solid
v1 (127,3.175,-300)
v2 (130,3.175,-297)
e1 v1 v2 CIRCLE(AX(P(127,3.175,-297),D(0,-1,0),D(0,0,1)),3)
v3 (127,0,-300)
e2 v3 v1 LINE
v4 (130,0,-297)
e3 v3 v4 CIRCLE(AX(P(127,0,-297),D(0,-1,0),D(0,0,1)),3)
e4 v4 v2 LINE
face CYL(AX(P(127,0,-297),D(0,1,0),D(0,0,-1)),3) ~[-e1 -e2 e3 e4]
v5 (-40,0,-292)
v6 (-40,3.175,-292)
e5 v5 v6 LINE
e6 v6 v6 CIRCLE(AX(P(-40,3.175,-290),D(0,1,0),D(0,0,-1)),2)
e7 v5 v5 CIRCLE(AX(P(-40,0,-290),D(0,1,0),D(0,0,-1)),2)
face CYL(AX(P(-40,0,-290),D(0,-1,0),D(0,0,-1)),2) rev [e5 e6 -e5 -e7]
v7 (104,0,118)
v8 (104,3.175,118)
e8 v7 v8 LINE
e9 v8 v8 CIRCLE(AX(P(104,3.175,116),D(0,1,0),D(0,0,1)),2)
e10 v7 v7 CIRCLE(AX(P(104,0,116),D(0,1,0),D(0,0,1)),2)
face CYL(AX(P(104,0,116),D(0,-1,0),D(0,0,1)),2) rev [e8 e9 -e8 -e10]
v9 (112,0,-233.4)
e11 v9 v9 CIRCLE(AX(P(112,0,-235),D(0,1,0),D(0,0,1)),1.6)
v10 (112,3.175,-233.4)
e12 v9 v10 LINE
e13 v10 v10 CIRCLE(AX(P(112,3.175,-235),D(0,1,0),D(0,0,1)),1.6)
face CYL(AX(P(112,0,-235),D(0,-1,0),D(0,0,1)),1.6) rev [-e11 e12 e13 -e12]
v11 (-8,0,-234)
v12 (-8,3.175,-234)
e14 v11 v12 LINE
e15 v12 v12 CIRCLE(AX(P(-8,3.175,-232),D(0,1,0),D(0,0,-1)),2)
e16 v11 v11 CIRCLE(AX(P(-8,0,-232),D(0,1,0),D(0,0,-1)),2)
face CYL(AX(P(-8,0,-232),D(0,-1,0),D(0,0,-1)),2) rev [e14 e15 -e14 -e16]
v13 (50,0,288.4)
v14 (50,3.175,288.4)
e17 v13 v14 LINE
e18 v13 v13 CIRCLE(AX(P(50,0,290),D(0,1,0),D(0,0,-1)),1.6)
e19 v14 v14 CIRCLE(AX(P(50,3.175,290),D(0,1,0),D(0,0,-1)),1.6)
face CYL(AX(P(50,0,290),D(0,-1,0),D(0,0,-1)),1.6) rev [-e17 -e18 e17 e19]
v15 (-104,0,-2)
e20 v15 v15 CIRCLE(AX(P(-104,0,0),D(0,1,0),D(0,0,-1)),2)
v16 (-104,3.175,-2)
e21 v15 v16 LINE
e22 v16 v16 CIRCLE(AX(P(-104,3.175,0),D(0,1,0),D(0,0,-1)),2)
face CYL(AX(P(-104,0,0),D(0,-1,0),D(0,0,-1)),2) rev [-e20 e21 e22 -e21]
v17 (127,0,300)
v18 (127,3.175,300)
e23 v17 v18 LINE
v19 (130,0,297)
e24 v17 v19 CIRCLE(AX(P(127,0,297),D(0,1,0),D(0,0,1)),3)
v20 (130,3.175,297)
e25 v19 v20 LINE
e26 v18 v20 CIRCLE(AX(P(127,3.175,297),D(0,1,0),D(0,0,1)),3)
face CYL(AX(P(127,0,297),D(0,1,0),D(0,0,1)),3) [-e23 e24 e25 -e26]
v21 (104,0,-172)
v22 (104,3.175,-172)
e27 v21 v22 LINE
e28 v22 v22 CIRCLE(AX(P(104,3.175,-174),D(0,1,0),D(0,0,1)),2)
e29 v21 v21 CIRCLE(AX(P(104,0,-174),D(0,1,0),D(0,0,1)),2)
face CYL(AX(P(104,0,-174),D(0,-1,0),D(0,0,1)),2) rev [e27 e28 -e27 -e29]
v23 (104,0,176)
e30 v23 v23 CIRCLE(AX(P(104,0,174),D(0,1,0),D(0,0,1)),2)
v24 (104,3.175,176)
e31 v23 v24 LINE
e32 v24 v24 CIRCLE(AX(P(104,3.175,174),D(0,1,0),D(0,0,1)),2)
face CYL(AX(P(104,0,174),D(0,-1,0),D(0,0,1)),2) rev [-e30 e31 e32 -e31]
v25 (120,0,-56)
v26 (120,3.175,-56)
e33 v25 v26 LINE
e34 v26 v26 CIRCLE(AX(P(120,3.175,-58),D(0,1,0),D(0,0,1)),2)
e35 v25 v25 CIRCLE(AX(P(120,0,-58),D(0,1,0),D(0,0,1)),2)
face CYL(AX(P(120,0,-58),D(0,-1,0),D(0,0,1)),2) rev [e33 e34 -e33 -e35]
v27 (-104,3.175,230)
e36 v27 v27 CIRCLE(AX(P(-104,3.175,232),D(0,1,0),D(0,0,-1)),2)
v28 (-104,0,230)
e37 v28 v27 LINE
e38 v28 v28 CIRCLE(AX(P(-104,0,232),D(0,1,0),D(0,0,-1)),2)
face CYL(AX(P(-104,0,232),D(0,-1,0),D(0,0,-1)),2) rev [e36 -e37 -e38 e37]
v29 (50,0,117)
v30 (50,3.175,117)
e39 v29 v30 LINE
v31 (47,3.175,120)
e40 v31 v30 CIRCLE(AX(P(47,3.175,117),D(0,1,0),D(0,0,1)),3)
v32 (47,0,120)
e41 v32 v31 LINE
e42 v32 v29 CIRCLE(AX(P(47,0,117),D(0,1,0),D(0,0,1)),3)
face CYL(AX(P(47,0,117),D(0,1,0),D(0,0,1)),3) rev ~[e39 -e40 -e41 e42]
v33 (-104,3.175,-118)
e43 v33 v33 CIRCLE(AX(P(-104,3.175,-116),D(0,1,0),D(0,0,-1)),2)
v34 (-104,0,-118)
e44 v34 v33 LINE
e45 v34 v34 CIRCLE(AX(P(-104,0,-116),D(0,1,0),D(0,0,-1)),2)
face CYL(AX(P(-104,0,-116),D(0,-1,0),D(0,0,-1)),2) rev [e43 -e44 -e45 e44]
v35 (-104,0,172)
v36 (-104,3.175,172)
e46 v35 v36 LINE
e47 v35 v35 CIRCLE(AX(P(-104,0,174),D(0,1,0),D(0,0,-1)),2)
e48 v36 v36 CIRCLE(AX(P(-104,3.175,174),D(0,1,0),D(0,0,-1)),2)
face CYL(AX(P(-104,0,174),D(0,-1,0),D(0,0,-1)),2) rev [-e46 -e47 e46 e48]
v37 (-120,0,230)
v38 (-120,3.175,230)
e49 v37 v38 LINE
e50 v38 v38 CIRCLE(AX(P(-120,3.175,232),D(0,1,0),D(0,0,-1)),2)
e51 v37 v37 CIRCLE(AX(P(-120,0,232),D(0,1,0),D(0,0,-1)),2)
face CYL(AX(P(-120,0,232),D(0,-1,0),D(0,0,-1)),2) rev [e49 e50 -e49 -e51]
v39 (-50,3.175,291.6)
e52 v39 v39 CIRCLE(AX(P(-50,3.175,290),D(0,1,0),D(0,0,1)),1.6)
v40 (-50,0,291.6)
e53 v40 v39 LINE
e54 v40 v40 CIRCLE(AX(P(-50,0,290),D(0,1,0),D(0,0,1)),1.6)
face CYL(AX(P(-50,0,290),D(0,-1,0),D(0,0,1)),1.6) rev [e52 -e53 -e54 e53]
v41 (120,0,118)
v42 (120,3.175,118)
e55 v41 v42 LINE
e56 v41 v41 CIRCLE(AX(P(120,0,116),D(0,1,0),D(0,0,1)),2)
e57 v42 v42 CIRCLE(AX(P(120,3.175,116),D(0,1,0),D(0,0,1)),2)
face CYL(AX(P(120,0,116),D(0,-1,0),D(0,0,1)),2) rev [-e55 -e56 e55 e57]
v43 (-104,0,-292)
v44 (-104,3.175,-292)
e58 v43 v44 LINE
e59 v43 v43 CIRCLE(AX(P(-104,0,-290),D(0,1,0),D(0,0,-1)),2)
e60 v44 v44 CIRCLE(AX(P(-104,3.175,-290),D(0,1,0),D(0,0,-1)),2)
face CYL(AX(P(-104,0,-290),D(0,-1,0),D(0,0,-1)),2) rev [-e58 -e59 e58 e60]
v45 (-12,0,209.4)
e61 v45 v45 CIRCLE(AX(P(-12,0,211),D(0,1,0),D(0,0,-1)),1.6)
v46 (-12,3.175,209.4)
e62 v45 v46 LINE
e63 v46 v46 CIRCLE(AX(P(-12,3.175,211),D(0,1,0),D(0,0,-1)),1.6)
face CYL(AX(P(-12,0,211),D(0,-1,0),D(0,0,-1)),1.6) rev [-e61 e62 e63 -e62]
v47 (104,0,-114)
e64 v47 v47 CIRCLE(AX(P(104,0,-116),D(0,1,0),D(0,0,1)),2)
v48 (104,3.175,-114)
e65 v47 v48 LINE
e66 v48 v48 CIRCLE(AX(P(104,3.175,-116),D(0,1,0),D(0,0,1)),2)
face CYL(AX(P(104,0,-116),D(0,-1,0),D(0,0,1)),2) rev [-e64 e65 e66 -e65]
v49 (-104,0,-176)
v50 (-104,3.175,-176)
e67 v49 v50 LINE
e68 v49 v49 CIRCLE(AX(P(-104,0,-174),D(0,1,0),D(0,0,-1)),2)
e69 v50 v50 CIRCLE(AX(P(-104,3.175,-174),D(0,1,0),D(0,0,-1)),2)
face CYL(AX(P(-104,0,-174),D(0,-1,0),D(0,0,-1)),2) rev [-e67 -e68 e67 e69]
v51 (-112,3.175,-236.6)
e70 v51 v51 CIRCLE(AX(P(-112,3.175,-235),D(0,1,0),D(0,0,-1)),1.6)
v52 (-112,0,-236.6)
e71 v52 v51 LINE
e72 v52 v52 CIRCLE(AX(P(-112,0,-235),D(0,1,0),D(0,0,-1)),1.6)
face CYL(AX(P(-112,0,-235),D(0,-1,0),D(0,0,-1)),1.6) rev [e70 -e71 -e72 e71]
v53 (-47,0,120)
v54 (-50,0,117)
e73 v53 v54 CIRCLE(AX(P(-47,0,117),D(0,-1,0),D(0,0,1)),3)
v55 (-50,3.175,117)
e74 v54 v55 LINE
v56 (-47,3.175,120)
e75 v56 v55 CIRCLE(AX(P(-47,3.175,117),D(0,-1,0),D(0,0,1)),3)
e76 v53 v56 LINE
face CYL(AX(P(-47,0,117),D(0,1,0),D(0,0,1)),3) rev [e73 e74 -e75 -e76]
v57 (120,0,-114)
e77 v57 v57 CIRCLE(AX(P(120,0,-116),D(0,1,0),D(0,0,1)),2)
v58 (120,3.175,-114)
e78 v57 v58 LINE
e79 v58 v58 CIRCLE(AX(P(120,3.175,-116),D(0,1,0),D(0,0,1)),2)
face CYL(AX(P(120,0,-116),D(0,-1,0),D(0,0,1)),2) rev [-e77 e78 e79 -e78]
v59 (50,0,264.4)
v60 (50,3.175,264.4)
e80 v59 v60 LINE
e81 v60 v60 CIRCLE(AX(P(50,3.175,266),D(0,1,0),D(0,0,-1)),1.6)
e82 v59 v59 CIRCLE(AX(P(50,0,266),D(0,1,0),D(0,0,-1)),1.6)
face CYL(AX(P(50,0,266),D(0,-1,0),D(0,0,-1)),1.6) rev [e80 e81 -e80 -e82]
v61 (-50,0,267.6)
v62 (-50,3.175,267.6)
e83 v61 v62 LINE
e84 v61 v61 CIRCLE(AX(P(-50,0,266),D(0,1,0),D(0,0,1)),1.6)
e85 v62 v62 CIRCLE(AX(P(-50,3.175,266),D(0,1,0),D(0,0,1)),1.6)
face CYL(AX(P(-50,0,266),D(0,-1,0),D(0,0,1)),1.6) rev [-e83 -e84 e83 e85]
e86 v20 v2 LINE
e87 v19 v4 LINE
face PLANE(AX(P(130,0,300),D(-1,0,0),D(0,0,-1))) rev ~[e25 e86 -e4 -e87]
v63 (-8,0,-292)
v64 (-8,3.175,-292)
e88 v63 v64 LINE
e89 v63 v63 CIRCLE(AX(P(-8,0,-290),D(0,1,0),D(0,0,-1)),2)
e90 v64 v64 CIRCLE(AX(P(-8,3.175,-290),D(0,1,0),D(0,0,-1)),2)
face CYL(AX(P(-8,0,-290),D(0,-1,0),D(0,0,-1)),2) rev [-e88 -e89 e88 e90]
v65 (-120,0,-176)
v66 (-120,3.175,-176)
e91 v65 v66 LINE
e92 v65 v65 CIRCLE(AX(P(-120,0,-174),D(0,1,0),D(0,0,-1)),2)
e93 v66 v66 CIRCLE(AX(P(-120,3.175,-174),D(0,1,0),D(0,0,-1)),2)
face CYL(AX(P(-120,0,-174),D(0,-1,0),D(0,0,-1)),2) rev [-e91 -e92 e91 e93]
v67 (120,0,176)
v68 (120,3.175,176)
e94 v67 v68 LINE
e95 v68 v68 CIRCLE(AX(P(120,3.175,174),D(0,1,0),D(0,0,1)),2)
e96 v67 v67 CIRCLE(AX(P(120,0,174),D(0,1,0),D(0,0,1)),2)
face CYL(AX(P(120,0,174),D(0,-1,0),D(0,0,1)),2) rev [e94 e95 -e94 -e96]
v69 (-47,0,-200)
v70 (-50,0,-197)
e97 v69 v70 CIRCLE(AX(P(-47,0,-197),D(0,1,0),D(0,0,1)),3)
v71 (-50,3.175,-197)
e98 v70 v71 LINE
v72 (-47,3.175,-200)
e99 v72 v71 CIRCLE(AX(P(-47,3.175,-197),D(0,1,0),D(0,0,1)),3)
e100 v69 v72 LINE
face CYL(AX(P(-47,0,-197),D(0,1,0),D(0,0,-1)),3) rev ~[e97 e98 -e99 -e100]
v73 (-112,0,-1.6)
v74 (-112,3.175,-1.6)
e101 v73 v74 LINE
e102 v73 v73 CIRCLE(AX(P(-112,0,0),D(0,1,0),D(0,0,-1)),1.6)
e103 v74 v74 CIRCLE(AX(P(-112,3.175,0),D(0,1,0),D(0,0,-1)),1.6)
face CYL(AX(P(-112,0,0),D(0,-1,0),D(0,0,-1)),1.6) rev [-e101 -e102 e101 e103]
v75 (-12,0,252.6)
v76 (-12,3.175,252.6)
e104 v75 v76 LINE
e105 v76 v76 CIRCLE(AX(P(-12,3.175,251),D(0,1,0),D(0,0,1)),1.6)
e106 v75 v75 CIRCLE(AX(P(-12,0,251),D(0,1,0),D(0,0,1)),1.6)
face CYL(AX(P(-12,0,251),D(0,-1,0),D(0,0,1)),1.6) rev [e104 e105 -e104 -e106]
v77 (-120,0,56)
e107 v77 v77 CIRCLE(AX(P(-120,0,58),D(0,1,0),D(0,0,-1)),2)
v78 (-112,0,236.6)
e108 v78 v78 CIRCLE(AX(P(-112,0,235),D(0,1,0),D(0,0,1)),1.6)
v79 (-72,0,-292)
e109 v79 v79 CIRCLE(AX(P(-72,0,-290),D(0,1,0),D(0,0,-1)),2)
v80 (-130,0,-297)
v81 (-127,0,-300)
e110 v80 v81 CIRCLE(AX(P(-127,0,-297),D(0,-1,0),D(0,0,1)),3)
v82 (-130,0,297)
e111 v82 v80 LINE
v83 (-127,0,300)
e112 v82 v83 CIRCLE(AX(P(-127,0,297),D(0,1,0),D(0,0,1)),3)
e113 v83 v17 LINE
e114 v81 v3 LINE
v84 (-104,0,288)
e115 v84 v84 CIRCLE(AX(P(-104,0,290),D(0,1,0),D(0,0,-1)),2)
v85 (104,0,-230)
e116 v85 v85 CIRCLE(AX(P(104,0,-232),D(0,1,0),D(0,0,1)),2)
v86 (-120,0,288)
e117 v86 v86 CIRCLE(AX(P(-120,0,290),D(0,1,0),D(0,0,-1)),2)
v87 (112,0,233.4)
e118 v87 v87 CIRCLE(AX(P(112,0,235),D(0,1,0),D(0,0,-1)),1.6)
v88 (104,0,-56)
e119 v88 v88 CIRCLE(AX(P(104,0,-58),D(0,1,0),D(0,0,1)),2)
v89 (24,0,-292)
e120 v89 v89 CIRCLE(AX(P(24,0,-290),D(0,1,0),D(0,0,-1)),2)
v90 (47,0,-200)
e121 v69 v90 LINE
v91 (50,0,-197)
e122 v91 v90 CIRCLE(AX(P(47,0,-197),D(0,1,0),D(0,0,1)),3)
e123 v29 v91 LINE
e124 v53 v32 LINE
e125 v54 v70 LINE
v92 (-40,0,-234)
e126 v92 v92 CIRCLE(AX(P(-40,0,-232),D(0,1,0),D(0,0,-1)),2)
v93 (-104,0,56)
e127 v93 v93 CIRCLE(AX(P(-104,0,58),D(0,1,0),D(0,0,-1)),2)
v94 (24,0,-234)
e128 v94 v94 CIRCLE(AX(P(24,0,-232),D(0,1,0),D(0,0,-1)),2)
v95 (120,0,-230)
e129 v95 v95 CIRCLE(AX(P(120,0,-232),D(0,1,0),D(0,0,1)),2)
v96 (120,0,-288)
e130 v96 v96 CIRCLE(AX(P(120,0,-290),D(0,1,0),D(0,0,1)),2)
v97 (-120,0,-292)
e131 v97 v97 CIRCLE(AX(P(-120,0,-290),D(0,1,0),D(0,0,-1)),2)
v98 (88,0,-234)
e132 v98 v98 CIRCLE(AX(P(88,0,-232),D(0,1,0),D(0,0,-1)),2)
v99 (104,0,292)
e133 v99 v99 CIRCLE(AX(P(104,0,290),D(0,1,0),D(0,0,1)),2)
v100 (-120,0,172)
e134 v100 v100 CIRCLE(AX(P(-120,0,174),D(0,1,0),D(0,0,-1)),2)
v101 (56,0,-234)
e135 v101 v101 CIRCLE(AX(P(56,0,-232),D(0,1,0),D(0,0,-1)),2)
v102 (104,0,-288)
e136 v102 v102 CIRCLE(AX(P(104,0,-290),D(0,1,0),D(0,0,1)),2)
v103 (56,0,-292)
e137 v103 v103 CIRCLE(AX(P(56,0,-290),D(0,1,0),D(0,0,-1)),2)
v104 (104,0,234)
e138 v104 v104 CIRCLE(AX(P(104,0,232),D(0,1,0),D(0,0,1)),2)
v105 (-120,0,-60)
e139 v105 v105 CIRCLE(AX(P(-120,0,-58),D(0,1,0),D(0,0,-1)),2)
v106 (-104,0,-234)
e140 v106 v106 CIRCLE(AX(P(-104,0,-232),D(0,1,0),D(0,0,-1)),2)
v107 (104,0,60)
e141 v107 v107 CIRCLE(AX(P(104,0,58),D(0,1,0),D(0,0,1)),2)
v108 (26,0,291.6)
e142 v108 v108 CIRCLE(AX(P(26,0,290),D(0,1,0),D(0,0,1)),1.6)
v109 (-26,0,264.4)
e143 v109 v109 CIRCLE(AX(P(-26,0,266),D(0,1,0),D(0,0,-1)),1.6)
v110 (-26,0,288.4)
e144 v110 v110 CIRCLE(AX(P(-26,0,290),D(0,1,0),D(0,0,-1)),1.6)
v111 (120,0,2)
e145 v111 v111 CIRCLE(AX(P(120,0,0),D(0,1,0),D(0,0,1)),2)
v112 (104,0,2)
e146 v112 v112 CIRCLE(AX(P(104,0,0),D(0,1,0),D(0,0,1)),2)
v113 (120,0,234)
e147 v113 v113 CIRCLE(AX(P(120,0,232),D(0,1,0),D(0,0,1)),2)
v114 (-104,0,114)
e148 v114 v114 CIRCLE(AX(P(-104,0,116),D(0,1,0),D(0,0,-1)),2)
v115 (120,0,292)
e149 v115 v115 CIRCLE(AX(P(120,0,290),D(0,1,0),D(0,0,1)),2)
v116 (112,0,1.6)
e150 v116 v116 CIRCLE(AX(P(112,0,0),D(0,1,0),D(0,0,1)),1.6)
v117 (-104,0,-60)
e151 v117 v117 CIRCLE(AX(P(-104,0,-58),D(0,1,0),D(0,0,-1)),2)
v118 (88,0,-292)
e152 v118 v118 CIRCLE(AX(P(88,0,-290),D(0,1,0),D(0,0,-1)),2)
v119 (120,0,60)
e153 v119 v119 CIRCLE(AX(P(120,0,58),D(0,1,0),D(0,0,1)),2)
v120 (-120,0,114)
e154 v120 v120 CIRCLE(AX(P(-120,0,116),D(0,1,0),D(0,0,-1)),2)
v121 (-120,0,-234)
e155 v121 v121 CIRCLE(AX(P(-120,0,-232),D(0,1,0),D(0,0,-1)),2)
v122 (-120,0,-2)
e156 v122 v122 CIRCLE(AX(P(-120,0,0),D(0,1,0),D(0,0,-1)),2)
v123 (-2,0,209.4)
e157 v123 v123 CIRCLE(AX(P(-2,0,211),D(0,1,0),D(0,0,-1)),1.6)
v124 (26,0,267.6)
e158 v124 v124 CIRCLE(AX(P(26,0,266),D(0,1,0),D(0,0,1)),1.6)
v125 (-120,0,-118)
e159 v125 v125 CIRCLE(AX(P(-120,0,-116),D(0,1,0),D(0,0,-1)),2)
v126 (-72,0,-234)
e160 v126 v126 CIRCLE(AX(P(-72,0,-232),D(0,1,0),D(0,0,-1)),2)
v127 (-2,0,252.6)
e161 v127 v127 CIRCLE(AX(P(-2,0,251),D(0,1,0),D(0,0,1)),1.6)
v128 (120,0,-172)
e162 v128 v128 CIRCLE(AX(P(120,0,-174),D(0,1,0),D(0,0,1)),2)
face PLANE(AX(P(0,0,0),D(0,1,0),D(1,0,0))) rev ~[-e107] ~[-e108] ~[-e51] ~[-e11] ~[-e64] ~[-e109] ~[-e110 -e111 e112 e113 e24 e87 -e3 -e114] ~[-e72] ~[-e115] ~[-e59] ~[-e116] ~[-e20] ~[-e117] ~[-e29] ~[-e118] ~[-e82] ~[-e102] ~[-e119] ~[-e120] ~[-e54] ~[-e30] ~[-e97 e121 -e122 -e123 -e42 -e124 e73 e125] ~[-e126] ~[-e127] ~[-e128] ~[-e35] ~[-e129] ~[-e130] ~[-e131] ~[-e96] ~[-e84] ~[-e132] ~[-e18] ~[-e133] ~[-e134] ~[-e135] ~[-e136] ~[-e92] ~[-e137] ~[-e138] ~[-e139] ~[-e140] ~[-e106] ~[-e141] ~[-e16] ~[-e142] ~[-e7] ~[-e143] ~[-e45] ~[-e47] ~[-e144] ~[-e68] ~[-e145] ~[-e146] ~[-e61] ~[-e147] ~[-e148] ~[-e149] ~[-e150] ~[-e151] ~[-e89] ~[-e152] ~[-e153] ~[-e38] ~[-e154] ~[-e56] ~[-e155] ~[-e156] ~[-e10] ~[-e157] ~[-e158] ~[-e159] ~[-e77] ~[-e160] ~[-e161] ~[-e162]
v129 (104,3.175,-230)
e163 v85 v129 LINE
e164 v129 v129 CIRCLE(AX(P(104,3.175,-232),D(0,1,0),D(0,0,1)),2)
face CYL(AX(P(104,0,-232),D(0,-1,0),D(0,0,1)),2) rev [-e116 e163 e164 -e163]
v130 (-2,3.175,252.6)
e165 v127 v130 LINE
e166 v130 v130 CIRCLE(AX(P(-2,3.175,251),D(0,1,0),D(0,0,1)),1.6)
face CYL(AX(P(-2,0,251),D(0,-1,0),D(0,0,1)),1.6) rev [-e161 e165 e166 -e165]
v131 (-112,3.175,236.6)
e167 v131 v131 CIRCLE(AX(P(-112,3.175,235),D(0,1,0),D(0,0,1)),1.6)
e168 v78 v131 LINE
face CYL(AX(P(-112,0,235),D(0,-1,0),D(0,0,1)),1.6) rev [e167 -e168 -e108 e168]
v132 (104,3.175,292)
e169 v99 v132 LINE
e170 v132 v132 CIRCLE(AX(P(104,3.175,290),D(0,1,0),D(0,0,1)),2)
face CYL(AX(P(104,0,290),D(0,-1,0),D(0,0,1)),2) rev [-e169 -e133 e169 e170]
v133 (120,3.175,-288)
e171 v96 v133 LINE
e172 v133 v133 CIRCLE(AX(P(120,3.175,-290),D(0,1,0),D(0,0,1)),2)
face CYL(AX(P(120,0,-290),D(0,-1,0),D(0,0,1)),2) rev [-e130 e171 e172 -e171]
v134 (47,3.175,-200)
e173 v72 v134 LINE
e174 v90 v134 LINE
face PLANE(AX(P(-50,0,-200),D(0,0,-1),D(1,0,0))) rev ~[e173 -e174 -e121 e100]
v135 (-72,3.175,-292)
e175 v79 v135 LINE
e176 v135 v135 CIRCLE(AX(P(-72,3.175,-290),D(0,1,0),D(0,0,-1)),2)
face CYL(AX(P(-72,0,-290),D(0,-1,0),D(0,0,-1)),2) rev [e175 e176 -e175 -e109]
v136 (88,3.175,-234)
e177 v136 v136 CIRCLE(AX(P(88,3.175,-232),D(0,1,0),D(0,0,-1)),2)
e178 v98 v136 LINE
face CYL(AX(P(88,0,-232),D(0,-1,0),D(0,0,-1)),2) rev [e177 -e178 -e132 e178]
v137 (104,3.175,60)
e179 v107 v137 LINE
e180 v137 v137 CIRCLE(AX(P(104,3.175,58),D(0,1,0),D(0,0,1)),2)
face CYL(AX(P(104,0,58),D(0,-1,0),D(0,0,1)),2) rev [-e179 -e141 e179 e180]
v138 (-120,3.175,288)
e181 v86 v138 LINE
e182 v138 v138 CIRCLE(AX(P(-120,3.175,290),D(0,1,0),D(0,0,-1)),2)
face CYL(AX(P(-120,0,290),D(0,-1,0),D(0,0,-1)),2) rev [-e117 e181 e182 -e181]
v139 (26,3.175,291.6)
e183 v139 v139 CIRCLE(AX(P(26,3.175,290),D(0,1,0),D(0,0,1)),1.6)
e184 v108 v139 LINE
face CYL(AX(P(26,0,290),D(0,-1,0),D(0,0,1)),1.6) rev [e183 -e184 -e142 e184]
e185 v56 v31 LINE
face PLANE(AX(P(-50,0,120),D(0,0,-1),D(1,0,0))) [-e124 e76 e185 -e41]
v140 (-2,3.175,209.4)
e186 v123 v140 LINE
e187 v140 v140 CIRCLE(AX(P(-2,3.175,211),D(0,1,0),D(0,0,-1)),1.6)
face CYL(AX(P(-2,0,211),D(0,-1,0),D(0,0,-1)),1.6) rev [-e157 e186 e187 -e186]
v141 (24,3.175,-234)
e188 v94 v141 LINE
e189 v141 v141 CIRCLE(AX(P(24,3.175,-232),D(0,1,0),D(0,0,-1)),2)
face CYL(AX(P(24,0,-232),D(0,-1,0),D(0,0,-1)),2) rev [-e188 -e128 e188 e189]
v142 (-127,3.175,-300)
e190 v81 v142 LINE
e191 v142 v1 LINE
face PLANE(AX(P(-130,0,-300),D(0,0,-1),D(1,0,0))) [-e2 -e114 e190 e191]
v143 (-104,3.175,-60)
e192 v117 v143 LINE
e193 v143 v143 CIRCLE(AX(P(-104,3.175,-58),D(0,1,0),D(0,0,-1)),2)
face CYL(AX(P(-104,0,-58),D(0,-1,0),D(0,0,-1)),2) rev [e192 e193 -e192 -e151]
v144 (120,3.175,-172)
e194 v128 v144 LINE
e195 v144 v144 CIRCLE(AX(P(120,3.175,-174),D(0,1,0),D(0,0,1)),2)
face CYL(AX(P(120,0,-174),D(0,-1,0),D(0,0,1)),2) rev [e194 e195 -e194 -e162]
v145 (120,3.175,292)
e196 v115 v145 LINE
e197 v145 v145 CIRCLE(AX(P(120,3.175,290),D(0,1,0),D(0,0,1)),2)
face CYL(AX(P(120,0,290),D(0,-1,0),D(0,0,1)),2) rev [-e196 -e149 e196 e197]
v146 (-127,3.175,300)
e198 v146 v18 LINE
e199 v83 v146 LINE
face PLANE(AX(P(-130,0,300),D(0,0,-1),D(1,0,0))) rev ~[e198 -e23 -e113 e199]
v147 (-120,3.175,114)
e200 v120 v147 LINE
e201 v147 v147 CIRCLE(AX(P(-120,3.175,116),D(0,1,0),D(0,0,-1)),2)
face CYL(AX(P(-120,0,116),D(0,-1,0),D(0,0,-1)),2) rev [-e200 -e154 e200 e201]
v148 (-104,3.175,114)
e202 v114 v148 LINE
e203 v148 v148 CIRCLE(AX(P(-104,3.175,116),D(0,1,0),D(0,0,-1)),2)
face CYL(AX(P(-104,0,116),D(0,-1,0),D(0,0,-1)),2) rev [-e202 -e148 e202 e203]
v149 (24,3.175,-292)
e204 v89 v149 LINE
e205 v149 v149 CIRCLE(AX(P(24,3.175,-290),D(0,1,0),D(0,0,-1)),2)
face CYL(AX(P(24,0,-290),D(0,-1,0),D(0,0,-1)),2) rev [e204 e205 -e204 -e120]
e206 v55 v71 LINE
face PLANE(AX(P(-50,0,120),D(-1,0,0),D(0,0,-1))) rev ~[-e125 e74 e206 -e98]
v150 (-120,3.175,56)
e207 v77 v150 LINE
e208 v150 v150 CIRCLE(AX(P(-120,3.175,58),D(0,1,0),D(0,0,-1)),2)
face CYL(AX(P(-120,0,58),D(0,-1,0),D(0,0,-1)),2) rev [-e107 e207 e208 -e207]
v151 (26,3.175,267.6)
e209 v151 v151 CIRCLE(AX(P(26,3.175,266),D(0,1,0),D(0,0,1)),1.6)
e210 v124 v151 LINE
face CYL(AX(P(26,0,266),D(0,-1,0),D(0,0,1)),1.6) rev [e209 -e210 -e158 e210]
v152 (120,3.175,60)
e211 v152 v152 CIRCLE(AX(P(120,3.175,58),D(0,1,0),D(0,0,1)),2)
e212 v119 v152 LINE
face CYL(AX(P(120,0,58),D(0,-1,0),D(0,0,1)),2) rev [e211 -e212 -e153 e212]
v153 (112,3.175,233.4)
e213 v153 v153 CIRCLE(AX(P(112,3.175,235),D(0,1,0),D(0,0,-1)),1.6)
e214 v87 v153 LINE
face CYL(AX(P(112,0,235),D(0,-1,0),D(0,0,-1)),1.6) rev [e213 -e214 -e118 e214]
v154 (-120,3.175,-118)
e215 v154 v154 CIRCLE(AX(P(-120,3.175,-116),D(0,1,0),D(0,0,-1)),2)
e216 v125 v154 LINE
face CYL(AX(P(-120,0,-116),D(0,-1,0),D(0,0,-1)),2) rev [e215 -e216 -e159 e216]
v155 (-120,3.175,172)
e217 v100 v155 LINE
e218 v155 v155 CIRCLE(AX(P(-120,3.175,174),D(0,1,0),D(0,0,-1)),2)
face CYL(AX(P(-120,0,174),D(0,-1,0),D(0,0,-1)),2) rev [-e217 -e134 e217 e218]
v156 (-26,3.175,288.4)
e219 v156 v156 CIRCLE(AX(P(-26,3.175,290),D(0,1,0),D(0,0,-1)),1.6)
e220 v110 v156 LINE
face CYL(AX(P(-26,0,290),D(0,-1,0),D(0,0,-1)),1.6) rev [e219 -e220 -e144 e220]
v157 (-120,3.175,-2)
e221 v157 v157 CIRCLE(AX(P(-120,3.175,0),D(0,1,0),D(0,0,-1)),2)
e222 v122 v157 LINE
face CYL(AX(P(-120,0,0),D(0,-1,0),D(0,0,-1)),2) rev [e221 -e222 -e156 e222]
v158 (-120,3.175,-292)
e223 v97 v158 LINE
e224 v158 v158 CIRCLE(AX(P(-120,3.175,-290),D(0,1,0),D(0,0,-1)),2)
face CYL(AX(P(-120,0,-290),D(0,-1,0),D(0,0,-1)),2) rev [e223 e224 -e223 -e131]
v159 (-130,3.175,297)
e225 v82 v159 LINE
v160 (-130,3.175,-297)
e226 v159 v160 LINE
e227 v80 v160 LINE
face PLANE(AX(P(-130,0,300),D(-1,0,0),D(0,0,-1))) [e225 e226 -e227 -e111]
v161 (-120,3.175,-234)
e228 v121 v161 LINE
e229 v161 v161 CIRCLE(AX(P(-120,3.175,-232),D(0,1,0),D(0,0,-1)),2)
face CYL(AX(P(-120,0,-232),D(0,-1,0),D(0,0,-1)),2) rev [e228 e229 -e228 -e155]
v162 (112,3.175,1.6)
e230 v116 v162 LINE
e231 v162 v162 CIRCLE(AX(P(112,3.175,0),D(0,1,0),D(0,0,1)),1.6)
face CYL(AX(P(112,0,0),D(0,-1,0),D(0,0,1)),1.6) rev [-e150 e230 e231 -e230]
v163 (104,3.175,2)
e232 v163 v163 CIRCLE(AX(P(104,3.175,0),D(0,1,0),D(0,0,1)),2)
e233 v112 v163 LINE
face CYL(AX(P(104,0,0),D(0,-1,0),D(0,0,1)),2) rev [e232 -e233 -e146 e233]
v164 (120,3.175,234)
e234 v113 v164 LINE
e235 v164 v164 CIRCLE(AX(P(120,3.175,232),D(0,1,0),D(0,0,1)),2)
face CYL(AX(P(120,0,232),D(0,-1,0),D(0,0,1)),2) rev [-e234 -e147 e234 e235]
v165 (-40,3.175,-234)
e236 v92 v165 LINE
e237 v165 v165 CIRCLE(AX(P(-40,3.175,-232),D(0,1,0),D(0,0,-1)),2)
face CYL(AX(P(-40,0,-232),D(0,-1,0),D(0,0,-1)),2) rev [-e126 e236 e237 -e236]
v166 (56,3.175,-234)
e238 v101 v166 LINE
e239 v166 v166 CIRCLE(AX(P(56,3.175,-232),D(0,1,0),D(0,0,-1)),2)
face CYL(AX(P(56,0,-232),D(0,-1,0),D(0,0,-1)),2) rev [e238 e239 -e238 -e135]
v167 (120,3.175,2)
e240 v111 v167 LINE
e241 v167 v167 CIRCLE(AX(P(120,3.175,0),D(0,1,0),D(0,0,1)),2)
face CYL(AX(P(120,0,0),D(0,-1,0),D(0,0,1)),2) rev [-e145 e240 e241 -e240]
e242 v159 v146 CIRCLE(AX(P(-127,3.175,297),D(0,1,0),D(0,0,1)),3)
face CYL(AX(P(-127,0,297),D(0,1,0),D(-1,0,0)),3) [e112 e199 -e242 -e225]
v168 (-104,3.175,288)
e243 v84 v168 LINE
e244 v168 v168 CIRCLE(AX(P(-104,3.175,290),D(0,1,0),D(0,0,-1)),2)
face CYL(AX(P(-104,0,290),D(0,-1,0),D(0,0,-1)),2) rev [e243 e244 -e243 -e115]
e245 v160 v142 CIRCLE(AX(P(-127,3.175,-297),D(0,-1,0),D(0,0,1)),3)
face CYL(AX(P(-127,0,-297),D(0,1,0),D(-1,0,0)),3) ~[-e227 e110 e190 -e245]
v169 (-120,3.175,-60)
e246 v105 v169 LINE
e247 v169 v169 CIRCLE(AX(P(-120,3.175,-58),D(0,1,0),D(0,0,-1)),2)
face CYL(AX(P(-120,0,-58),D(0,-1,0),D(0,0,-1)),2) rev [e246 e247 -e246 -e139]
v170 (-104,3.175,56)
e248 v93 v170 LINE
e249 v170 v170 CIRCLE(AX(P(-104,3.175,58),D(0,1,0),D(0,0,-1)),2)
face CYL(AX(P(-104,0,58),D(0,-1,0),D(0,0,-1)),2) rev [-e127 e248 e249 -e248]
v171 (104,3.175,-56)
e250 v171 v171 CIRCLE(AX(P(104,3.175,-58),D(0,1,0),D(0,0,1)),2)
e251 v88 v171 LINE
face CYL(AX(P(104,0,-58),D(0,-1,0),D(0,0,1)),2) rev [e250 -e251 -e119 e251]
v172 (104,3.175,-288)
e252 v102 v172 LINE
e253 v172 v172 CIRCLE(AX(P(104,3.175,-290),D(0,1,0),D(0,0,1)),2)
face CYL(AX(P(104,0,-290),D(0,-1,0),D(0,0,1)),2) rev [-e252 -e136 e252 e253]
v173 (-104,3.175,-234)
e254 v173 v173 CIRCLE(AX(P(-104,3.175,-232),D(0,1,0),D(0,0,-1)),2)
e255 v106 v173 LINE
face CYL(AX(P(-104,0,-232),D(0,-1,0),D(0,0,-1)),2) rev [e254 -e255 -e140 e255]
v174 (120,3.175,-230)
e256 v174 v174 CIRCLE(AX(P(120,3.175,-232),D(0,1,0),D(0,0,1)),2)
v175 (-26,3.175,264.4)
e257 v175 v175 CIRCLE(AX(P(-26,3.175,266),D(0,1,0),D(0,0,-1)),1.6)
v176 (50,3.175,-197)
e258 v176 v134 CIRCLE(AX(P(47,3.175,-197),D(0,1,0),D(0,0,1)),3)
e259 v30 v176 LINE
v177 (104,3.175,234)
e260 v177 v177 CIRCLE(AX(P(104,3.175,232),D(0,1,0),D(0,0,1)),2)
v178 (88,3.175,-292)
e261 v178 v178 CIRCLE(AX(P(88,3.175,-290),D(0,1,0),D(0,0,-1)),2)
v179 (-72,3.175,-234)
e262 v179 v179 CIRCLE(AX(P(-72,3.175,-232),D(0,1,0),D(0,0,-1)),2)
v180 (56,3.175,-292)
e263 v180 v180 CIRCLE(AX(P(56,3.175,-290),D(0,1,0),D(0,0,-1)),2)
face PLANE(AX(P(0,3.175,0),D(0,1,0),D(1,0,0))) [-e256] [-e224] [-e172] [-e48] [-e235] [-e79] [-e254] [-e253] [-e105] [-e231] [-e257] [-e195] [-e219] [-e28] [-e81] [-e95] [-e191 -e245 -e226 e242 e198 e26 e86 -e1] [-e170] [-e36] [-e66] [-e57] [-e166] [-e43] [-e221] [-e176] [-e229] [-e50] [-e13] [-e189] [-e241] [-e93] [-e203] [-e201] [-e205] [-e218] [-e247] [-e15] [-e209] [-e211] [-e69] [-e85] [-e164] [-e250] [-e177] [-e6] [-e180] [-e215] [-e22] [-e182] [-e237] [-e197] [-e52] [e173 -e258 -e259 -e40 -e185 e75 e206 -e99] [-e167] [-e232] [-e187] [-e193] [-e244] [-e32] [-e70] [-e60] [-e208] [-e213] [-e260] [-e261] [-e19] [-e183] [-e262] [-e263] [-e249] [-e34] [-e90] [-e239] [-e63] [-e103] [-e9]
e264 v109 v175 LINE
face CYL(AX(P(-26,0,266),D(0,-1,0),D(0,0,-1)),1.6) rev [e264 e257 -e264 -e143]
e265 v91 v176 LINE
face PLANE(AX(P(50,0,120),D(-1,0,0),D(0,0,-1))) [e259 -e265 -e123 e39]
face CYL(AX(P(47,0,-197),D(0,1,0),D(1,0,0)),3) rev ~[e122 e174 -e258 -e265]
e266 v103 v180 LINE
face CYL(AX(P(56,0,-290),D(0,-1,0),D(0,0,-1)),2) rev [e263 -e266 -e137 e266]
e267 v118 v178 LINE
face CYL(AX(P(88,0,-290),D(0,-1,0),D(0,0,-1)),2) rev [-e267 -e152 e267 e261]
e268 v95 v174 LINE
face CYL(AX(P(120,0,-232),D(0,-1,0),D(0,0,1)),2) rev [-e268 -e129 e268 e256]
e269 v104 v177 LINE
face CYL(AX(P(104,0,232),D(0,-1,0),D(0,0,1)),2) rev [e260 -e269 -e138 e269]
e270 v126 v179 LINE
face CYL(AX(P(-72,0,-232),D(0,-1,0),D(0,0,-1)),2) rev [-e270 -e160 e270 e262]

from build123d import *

# Parameters (mm, degrees)
SKETCH1_W           = 260
SKETCH1_H           = 600
SKETCH1_R           = 2
SKETCH1_R_2         = 1.6
SKETCH1_W_2         = 100
SKETCH1_H_2         = 320
BOSS_EXTRUDE1_DEPTH = 3.175
FILLET1_R           = 3


with BuildPart() as part:
    # Sketch1 → Boss-Extrude1 (new body)
    with BuildSketch(Plane(origin=(0, 0, 0), x_dir=(1, 0, 0), z_dir=(0, 1, 0))):
        Rectangle(SKETCH1_W, SKETCH1_H)
        with Locations(Location((120, 290, 0), (0, 0, 270))):
            Circle(SKETCH1_R, mode=Mode.SUBTRACT)
        with Locations(Location((120, 232, 0), (0, 0, 270))):
            Circle(SKETCH1_R, mode=Mode.SUBTRACT)
        with Locations(Location((120, 174, 0), (0, 0, 270))):
            Circle(SKETCH1_R, mode=Mode.SUBTRACT)
        with Locations(Location((120, 116, 0), (0, 0, 270))):
            Circle(SKETCH1_R, mode=Mode.SUBTRACT)
        with Locations(Location((120, 58, 0), (0, 0, 270))):
            Circle(SKETCH1_R, mode=Mode.SUBTRACT)
        with Locations(Location((120, 0, 0), (0, 0, 270))):
            Circle(SKETCH1_R, mode=Mode.SUBTRACT)
        with Locations(Location((120, -58, 0), (0, 0, 270))):
            Circle(SKETCH1_R, mode=Mode.SUBTRACT)
        with Locations(Location((120, -116, 0), (0, 0, 270))):
            Circle(SKETCH1_R, mode=Mode.SUBTRACT)
        with Locations(Location((120, -174, 0), (0, 0, 270))):
            Circle(SKETCH1_R, mode=Mode.SUBTRACT)
        with Locations(Location((120, -232, 0), (0, 0, 270))):
            Circle(SKETCH1_R, mode=Mode.SUBTRACT)
        with Locations(Location((120, -290, 0), (0, 0, 270))):
            Circle(SKETCH1_R, mode=Mode.SUBTRACT)
        with Locations(Location((-120, 232, 0), (0, 0, 90))):
            Circle(SKETCH1_R, mode=Mode.SUBTRACT)
        with Locations(Location((-120, -290, 0), (0, 0, 90))):
            Circle(SKETCH1_R, mode=Mode.SUBTRACT)
        with Locations(Location((-120, -232, 0), (0, 0, 90))):
            Circle(SKETCH1_R, mode=Mode.SUBTRACT)
        with Locations(Location((-120, -174, 0), (0, 0, 90))):
            Circle(SKETCH1_R, mode=Mode.SUBTRACT)
        with Locations(Location((-120, -116, 0), (0, 0, 90))):
            Circle(SKETCH1_R, mode=Mode.SUBTRACT)
        with Locations(Location((-120, -58, 0), (0, 0, 90))):
            Circle(SKETCH1_R, mode=Mode.SUBTRACT)
        with Locations(Location((-120, 0, 0), (0, 0, 90))):
            Circle(SKETCH1_R, mode=Mode.SUBTRACT)
        with Locations(Location((-120, 58, 0), (0, 0, 90))):
            Circle(SKETCH1_R, mode=Mode.SUBTRACT)
        with Locations(Location((-120, 116, 0), (0, 0, 90))):
            Circle(SKETCH1_R, mode=Mode.SUBTRACT)
        with Locations(Location((-120, 174, 0), (0, 0, 90))):
            Circle(SKETCH1_R, mode=Mode.SUBTRACT)
        with Locations(Location((-120, 290, 0), (0, 0, 90))):
            Circle(SKETCH1_R, mode=Mode.SUBTRACT)
        with Locations(Location((112, 235, 0), (0, 0, 270))):
            Circle(SKETCH1_R_2, mode=Mode.SUBTRACT)
        with Locations(Location((-112, 235, 0), (0, 0, 90))):
            Circle(SKETCH1_R_2, mode=Mode.SUBTRACT)
        with Locations(Location((112, -235, 0), (0, 0, 90))):
            Circle(SKETCH1_R_2, mode=Mode.SUBTRACT)
        with Locations(Location((-112, -235, 0), (0, 0, 270))):
            Circle(SKETCH1_R_2, mode=Mode.SUBTRACT)
        with Locations(Location((104, 290, 0), (0, 0, 270))):
            Circle(SKETCH1_R, mode=Mode.SUBTRACT)
        with Locations(Location((104, 232, 0), (0, 0, 270))):
            Circle(SKETCH1_R, mode=Mode.SUBTRACT)
        with Locations(Location((104, 174, 0), (0, 0, 270))):
            Circle(SKETCH1_R, mode=Mode.SUBTRACT)
        with Locations(Location((104, 116, 0), (0, 0, 270))):
            Circle(SKETCH1_R, mode=Mode.SUBTRACT)
        with Locations(Location((104, 58, 0), (0, 0, 270))):
            Circle(SKETCH1_R, mode=Mode.SUBTRACT)
        with Locations(Location((104, 0, 0), (0, 0, 270))):
            Circle(SKETCH1_R, mode=Mode.SUBTRACT)
        with Locations(Location((104, -58, 0), (0, 0, 270))):
            Circle(SKETCH1_R, mode=Mode.SUBTRACT)
        with Locations(Location((104, -116, 0), (0, 0, 270))):
            Circle(SKETCH1_R, mode=Mode.SUBTRACT)
        with Locations(Location((104, -174, 0), (0, 0, 270))):
            Circle(SKETCH1_R, mode=Mode.SUBTRACT)
        with Locations(Location((104, -232, 0), (0, 0, 270))):
            Circle(SKETCH1_R, mode=Mode.SUBTRACT)
        with Locations(Location((104, -290, 0), (0, 0, 270))):
            Circle(SKETCH1_R, mode=Mode.SUBTRACT)
        with Locations(Location((-104, -290, 0), (0, 0, 90))):
            Circle(SKETCH1_R, mode=Mode.SUBTRACT)
        with Locations(Location((-104, -174, 0), (0, 0, 90))):
            Circle(SKETCH1_R, mode=Mode.SUBTRACT)
        with Locations(Location((-104, -116, 0), (0, 0, 90))):
            Circle(SKETCH1_R, mode=Mode.SUBTRACT)
        with Locations(Location((-104, -58, 0), (0, 0, 90))):
            Circle(SKETCH1_R, mode=Mode.SUBTRACT)
        with Locations(Location((-104, 0, 0), (0, 0, 90))):
            Circle(SKETCH1_R, mode=Mode.SUBTRACT)
        with Locations(Location((-104, 58, 0), (0, 0, 90))):
            Circle(SKETCH1_R, mode=Mode.SUBTRACT)
        with Locations(Location((-104, 116, 0), (0, 0, 90))):
            Circle(SKETCH1_R, mode=Mode.SUBTRACT)
        with Locations(Location((-104, 174, 0), (0, 0, 90))):
            Circle(SKETCH1_R, mode=Mode.SUBTRACT)
        with Locations(Location((-104, 232, 0), (0, 0, 90))):
            Circle(SKETCH1_R, mode=Mode.SUBTRACT)
        with Locations(Location((-104, 290, 0), (0, 0, 90))):
            Circle(SKETCH1_R, mode=Mode.SUBTRACT)
        with Locations(Location((-104, -232, 0), (0, 0, 90))):
            Circle(SKETCH1_R, mode=Mode.SUBTRACT)
        with Locations(Location((112, 0, 0), (0, 0, 270))):
            Circle(SKETCH1_R_2, mode=Mode.SUBTRACT)
        with Locations(Location((-112, 0, 0), (0, 0, 90))):
            Circle(SKETCH1_R_2, mode=Mode.SUBTRACT)
        with Locations(Location((-50, -290, 0), (0, 0, 270))):
            Circle(SKETCH1_R_2, mode=Mode.SUBTRACT)
        with Locations(Location((-50, -266, 0), (0, 0, 270))):
            Circle(SKETCH1_R_2, mode=Mode.SUBTRACT)
        with Locations(Location((50, -266, 0), (0, 0, 90))):
            Circle(SKETCH1_R_2, mode=Mode.SUBTRACT)
        with Locations(Location((50, -290, 0), (0, 0, 90))):
            Circle(SKETCH1_R_2, mode=Mode.SUBTRACT)
        with Locations(Location((-26, -290, 0), (0, 0, 90))):
            Circle(SKETCH1_R_2, mode=Mode.SUBTRACT)
        with Locations(Location((-26, -266, 0), (0, 0, 90))):
            Circle(SKETCH1_R_2, mode=Mode.SUBTRACT)
        with Locations(Location((26, -290, 0), (0, 0, 270))):
            Circle(SKETCH1_R_2, mode=Mode.SUBTRACT)
        with Locations(Location((26, -266, 0), (0, 0, 270))):
            Circle(SKETCH1_R_2, mode=Mode.SUBTRACT)
        with Locations(Location((-72, 290, 0), (0, 0, 90))):
            Circle(SKETCH1_R, mode=Mode.SUBTRACT)
        with Locations(Location((-72, 232, 0), (0, 0, 90))):
            Circle(SKETCH1_R, mode=Mode.SUBTRACT)
        with Locations(Location((-40, 290, 0), (0, 0, 90))):
            Circle(SKETCH1_R, mode=Mode.SUBTRACT)
        with Locations(Location((-40, 232, 0), (0, 0, 90))):
            Circle(SKETCH1_R, mode=Mode.SUBTRACT)
        with Locations(Location((-8, 290, 0), (0, 0, 90))):
            Circle(SKETCH1_R, mode=Mode.SUBTRACT)
        with Locations(Location((-8, 232, 0), (0, 0, 90))):
            Circle(SKETCH1_R, mode=Mode.SUBTRACT)
        with Locations(Location((24, 290, 0), (0, 0, 90))):
            Circle(SKETCH1_R, mode=Mode.SUBTRACT)
        with Locations(Location((24, 232, 0), (0, 0, 90))):
            Circle(SKETCH1_R, mode=Mode.SUBTRACT)
        with Locations(Location((56, 290, 0), (0, 0, 90))):
            Circle(SKETCH1_R, mode=Mode.SUBTRACT)
        with Locations(Location((56, 232, 0), (0, 0, 90))):
            Circle(SKETCH1_R, mode=Mode.SUBTRACT)
        with Locations(Location((88, 290, 0), (0, 0, 90))):
            Circle(SKETCH1_R, mode=Mode.SUBTRACT)
        with Locations(Location((88, 232, 0), (0, 0, 90))):
            Circle(SKETCH1_R, mode=Mode.SUBTRACT)
        with Locations(Location((-12, -251, 0), (0, 0, 270))):
            Circle(SKETCH1_R_2, mode=Mode.SUBTRACT)
        with Locations(Location((-2, -251, 0), (0, 0, 270))):
            Circle(SKETCH1_R_2, mode=Mode.SUBTRACT)
        with Locations(Location((-12, -211, 0), (0, 0, 90))):
            Circle(SKETCH1_R_2, mode=Mode.SUBTRACT)
        with Locations(Location((-2, -211, 0), (0, 0, 90))):
            Circle(SKETCH1_R_2, mode=Mode.SUBTRACT)
        with Locations((0, 40)):
            Rectangle(SKETCH1_W_2, SKETCH1_H_2, mode=Mode.SUBTRACT)
    extrude(amount=BOSS_EXTRUDE1_DEPTH)

    # Fillet1
    fillet1_edges = [part.edges().sort_by_distance(p)[0] for p in [
        (50, 1.5875, 120),
        (50, 1.5875, -200),
        (-50, 1.5875, -200),
        (-50, 1.5875, 120),
        (130, 1.5875, 300),
        (-130, 1.5875, 300),
        (-130, 1.5875, -300),
        (130, 1.5875, -300),
    ]]
    fillet(fillet1_edges, radius=FILLET1_R)


solid = part.part
